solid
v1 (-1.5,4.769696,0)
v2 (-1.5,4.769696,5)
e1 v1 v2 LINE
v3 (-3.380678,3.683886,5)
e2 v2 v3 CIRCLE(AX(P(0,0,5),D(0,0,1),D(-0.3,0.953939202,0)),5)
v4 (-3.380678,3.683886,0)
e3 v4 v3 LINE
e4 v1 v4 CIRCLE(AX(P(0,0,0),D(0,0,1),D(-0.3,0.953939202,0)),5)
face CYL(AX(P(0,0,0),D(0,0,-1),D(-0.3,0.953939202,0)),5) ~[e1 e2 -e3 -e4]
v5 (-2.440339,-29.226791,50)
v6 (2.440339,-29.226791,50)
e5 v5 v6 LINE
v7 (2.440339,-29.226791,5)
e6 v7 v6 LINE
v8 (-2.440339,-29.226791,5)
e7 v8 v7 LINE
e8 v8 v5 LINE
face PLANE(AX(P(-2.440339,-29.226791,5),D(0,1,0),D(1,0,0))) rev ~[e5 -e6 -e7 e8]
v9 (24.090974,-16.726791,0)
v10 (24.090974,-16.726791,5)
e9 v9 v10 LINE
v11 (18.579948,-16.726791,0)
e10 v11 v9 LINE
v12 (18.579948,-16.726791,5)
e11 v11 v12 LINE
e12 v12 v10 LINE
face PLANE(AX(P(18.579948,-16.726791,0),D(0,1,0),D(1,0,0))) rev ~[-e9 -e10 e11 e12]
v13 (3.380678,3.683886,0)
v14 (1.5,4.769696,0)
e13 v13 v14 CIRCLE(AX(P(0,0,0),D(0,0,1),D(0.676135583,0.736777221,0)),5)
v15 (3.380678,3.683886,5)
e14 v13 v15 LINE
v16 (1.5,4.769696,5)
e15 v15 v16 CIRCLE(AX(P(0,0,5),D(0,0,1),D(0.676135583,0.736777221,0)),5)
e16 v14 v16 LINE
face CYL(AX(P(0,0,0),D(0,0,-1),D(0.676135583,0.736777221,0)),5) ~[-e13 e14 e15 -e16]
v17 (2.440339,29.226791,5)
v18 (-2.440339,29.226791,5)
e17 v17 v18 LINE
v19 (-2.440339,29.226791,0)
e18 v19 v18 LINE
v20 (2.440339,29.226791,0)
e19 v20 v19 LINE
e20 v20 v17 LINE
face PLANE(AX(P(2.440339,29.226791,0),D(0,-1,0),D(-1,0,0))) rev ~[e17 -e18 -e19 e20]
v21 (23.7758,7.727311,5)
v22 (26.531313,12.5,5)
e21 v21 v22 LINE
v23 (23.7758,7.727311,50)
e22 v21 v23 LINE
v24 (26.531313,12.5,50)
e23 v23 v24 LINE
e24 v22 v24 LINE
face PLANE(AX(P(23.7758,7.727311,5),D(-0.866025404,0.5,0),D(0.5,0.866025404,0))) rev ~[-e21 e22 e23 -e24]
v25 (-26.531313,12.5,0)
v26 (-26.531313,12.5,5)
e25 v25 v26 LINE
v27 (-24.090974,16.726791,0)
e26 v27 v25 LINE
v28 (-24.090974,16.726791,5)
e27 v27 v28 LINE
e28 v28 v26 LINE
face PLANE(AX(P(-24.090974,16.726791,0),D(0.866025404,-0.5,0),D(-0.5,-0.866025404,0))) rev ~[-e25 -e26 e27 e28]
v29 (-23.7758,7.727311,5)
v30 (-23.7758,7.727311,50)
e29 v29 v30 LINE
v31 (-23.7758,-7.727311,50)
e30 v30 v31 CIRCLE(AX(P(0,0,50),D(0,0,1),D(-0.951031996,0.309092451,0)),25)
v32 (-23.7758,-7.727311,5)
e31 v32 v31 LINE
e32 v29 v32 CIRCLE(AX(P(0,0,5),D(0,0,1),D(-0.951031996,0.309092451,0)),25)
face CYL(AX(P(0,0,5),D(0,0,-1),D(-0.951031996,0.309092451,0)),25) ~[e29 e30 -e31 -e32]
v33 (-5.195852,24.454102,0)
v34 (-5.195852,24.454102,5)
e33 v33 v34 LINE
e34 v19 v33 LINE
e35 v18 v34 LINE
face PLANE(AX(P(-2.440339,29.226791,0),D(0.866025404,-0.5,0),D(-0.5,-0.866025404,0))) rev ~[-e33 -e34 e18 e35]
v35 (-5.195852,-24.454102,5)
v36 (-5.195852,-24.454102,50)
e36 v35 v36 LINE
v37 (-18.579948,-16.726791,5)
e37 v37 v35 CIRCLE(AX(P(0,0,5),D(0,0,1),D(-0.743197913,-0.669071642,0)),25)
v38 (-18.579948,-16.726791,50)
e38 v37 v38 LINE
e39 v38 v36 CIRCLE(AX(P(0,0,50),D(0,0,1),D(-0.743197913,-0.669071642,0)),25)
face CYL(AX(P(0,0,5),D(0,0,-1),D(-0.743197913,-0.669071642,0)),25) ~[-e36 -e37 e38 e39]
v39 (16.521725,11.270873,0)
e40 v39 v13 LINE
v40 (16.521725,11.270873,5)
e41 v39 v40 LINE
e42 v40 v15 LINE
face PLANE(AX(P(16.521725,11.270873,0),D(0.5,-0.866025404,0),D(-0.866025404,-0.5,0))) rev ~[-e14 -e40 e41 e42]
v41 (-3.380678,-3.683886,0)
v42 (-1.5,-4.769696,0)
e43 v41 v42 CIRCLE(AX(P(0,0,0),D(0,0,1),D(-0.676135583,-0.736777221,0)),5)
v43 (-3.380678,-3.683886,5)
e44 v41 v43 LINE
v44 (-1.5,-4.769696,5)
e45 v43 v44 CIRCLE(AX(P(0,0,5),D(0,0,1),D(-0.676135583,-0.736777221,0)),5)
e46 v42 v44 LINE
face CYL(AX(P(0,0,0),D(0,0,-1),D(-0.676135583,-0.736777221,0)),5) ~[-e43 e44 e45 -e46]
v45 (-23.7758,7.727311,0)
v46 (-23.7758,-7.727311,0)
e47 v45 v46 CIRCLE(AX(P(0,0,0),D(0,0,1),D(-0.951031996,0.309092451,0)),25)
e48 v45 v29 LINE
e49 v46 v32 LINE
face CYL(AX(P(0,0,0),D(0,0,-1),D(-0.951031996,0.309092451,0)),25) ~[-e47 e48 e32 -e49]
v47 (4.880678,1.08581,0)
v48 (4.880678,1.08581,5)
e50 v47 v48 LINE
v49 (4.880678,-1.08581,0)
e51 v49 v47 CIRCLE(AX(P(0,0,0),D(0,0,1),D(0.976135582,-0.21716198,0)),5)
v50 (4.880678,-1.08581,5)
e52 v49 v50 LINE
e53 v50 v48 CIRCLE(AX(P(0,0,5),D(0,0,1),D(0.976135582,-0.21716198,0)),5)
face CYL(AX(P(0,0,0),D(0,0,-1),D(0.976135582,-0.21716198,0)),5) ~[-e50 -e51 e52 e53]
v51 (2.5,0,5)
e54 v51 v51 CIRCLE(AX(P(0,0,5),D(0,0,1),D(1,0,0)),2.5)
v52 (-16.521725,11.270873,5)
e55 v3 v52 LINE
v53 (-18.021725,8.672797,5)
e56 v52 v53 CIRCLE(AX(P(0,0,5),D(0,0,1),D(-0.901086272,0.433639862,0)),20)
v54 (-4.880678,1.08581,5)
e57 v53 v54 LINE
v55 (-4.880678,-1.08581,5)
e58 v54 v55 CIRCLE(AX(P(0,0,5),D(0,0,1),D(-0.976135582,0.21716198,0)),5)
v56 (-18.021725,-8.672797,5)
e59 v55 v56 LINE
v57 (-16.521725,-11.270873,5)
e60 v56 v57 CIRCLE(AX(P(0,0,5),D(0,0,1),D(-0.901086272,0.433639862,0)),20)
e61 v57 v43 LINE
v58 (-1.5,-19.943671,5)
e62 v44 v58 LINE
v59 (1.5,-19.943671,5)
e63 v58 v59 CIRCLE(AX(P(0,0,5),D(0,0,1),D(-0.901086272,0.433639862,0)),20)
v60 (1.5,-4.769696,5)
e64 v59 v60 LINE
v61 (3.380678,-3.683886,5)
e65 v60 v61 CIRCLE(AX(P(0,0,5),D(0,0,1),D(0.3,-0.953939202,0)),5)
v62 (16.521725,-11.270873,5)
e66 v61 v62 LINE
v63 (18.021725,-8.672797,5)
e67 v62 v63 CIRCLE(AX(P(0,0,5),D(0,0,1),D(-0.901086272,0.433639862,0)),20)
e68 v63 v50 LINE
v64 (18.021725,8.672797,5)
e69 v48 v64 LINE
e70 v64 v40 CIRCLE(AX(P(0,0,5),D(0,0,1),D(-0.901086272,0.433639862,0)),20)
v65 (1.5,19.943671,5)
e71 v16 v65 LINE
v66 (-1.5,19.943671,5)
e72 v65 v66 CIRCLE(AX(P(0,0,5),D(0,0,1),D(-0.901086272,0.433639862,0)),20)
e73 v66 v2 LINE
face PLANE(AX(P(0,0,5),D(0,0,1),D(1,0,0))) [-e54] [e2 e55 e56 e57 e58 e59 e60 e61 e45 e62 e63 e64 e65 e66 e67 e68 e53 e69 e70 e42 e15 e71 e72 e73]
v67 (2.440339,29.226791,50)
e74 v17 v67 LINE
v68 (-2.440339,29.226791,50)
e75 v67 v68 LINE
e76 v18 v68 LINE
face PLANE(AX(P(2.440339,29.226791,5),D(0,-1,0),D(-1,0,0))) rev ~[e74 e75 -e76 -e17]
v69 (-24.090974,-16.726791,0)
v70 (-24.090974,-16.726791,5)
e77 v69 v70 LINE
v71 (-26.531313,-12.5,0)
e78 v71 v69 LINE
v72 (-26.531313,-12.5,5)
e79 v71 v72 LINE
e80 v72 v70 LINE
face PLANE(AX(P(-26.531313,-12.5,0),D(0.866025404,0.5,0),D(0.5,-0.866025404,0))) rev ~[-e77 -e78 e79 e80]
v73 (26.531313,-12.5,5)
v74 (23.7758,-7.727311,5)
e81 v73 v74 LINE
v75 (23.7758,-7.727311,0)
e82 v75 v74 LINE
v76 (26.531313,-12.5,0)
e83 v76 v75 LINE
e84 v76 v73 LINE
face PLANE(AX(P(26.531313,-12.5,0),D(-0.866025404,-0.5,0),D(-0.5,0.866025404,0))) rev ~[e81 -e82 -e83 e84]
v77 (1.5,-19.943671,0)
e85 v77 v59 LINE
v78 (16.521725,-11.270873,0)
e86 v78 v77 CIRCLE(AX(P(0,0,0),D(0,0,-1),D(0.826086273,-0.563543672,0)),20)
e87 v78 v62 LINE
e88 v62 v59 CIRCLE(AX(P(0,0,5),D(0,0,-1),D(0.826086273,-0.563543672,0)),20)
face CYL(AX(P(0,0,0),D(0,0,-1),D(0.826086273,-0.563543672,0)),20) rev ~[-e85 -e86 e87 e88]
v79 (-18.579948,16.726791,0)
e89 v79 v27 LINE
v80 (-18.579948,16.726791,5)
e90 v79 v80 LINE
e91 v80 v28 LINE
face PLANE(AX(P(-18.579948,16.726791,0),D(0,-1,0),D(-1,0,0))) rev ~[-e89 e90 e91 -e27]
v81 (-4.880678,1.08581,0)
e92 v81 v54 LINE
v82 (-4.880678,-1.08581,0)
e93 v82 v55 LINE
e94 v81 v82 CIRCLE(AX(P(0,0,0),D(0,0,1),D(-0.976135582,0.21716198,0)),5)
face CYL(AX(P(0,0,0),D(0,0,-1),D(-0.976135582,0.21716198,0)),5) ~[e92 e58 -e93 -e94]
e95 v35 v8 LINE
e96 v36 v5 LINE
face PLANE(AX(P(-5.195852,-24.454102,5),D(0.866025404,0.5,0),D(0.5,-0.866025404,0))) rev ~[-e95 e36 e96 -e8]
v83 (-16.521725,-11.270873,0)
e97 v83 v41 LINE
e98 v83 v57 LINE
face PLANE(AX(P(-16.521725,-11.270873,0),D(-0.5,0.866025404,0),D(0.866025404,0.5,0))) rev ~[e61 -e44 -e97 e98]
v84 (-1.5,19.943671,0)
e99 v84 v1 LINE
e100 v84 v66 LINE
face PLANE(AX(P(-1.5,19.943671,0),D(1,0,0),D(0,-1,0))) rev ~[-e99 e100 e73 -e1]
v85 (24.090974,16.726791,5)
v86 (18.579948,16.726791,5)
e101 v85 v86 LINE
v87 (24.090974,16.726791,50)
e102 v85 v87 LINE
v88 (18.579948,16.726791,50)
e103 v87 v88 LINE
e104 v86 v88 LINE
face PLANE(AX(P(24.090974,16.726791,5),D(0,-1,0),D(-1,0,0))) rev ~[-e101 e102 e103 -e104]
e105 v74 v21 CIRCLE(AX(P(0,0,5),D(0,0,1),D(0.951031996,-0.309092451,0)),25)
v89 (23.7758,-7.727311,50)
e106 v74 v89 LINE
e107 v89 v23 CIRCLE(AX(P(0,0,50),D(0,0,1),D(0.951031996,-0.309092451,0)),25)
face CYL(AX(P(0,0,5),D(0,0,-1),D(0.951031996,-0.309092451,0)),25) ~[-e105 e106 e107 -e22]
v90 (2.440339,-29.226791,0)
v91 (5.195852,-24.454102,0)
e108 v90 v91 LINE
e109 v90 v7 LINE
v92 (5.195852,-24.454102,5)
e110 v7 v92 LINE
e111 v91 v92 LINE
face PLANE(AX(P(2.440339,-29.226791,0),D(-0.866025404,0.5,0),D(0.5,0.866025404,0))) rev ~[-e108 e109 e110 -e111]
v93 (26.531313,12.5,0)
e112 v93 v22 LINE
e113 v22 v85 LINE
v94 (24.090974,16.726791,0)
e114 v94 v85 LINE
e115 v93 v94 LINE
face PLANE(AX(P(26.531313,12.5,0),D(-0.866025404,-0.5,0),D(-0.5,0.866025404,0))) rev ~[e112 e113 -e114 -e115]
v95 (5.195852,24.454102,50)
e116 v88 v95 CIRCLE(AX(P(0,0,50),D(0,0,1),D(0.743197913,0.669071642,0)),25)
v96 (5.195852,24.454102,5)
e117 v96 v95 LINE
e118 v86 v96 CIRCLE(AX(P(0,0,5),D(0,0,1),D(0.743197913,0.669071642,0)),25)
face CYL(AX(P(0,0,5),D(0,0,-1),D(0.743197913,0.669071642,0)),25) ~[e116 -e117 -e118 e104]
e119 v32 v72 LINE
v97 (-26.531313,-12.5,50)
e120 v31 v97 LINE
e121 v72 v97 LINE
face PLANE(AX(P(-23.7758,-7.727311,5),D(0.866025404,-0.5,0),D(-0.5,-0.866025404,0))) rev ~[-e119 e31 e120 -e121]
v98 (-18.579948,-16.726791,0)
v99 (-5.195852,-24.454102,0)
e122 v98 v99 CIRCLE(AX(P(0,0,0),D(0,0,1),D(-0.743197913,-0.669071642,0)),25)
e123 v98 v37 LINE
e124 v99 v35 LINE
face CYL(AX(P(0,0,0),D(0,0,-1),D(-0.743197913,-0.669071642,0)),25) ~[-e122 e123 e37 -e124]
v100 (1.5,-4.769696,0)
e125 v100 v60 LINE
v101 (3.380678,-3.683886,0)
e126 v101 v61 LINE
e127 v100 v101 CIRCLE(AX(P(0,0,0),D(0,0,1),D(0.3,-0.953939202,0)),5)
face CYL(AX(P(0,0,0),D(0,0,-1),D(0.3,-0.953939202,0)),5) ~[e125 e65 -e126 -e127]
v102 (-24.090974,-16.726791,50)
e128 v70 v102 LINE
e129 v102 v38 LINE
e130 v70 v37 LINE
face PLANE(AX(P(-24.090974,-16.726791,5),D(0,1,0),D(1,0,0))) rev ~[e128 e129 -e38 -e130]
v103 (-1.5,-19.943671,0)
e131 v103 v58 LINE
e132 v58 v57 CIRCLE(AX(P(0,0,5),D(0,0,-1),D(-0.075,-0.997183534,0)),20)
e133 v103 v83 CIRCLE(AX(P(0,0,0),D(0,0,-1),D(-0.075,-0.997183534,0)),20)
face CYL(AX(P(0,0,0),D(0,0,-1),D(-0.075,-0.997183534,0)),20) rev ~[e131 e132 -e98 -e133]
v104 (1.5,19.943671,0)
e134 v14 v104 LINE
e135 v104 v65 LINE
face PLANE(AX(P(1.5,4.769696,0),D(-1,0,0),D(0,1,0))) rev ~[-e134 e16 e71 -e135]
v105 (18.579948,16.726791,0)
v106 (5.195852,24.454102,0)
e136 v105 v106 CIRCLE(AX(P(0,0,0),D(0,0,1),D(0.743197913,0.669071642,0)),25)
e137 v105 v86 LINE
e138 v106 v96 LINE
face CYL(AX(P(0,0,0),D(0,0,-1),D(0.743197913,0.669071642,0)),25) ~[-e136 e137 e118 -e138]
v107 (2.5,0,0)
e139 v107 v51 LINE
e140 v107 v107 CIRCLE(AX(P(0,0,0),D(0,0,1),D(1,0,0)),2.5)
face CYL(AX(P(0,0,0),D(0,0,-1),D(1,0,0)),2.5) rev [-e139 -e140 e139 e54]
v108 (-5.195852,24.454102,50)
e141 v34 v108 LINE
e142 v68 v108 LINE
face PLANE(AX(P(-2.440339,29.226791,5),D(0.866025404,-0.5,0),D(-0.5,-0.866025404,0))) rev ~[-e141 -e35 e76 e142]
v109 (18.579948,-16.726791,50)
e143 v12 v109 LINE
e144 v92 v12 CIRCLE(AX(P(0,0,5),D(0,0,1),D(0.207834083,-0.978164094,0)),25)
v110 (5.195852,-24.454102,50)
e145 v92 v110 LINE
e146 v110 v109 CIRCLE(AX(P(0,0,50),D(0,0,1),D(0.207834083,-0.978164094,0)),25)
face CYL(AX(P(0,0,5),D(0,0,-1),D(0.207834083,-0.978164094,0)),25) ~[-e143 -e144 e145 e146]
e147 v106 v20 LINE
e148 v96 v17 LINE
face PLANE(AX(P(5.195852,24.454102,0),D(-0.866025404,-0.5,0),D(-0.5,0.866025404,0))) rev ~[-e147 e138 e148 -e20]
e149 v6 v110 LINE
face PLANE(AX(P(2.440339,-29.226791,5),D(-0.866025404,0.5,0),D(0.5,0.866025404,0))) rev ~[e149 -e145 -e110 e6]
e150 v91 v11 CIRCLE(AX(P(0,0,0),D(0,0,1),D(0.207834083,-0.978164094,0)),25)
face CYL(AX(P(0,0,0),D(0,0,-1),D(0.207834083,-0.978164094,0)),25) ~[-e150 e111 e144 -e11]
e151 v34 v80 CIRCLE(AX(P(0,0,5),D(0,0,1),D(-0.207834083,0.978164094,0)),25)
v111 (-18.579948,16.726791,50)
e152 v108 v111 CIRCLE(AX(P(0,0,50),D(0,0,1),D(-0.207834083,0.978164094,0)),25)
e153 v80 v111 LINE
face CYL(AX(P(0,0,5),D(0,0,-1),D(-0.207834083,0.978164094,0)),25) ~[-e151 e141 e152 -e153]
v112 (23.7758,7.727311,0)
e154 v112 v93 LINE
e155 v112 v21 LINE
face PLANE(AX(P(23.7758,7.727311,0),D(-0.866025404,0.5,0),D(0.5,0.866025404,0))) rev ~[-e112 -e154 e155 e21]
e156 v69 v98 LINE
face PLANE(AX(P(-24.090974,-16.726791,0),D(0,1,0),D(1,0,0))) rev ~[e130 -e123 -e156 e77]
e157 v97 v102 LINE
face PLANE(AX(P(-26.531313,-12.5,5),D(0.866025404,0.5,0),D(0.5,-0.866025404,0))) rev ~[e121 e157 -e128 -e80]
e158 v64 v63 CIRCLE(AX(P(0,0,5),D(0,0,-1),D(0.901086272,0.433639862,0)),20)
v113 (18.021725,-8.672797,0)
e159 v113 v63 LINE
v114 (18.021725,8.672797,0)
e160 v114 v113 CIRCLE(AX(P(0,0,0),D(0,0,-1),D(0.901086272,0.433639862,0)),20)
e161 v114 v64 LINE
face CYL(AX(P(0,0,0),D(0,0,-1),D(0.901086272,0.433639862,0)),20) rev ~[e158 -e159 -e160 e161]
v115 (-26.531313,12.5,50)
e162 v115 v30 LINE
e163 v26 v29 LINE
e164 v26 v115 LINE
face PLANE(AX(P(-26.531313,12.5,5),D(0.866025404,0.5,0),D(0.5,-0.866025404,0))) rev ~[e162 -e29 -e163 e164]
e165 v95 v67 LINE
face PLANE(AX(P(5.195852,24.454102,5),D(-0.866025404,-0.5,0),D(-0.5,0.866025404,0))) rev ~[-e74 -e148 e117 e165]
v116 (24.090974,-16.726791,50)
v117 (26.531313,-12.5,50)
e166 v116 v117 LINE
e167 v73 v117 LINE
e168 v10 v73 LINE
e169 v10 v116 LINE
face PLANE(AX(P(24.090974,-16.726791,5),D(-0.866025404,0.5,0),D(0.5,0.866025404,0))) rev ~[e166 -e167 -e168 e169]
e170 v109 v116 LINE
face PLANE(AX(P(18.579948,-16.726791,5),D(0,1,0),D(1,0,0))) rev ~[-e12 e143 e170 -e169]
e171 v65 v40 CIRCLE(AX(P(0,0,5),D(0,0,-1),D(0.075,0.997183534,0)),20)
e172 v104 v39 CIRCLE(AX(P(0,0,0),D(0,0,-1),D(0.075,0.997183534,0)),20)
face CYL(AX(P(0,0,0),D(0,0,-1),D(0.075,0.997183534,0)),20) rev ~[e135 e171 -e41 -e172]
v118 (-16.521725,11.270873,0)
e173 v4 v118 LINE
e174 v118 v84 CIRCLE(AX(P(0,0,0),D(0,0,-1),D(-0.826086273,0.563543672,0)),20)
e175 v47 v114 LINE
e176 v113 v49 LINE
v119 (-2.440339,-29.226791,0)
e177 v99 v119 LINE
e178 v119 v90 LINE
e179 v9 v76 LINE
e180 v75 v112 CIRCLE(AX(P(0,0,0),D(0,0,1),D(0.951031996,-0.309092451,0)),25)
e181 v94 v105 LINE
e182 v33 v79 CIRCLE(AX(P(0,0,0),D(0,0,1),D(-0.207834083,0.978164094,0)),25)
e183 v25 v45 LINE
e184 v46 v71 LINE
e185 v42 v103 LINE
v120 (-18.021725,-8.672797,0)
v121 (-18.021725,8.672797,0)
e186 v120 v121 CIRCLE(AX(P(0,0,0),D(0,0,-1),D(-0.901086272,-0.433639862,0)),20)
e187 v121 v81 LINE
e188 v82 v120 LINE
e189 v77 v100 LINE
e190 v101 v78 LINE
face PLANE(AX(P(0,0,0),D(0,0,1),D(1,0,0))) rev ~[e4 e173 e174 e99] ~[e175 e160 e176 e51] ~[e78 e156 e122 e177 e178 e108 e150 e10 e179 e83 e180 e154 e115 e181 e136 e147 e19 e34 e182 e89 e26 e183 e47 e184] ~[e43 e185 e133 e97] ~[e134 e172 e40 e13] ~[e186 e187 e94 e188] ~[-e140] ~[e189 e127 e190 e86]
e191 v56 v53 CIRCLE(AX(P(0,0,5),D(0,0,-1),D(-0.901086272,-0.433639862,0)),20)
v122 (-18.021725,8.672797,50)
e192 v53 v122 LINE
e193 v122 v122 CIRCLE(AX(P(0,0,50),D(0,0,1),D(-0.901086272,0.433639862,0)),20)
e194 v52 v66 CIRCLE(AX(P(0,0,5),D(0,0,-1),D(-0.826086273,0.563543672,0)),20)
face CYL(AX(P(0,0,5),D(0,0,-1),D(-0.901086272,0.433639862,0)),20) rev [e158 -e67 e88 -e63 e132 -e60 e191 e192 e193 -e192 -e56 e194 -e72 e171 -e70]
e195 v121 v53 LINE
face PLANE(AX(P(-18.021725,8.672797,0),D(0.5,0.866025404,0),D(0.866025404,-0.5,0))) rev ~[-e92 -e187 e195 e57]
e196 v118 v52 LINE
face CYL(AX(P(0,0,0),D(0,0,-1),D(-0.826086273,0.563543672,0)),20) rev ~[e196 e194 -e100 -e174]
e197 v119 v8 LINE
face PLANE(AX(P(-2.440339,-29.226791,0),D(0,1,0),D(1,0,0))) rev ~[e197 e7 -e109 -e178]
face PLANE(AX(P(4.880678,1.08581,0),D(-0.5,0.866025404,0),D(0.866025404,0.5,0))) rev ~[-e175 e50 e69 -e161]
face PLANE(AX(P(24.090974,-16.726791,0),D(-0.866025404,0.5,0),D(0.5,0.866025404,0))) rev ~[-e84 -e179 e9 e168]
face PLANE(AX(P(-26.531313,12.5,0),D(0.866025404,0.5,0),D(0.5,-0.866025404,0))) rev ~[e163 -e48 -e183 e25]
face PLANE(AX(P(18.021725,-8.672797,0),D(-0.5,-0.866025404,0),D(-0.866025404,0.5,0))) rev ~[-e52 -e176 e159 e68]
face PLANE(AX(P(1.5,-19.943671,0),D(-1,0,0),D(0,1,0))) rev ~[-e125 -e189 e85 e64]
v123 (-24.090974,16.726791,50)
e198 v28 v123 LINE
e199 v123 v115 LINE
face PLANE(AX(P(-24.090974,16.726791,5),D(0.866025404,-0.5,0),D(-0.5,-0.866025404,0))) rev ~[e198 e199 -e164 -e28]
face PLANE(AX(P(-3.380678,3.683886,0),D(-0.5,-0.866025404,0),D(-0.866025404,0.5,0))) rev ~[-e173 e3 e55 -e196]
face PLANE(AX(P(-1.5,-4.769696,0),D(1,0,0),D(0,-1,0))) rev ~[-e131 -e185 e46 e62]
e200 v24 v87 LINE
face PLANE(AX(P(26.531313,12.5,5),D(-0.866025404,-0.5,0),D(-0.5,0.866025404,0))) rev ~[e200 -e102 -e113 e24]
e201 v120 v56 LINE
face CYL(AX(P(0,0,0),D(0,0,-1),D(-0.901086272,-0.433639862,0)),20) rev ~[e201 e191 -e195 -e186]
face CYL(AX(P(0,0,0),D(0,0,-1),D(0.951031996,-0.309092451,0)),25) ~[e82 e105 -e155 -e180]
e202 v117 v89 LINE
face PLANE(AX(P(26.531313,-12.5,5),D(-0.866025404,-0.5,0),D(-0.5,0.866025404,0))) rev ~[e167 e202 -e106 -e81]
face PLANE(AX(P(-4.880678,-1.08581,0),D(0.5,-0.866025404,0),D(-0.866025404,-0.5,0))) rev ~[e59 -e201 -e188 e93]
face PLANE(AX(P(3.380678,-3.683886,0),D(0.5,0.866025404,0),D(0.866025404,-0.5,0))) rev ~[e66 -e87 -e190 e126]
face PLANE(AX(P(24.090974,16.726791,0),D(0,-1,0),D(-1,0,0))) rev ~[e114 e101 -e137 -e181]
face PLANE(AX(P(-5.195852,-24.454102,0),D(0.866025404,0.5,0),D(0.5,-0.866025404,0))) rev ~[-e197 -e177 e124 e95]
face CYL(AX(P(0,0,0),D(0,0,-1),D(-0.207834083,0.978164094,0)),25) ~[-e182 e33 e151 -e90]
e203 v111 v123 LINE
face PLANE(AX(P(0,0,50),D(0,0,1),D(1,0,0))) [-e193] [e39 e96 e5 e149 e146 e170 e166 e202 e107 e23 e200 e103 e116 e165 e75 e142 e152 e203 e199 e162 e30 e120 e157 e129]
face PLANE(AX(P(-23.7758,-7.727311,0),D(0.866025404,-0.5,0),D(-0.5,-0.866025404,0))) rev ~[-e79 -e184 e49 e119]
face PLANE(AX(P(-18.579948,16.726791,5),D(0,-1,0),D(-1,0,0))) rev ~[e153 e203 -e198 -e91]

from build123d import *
from build123d.topology import SkipClean

# Parameters (mm, degrees)
SKETCH2_R           = 2.5
BOSS_EXTRUDE2_DEPTH = 5
SKETCH3_R           = 20
BOSS_EXTRUDE3_DEPTH = 45


with BuildPart() as part:
    # Sketch2 → Boss-Extrude2 (new body)
    with BuildSketch(Plane.XY):
        with BuildLine():
            ThreePointArc((-5.195852071, 24.45410234), (-12.5, 21.650635095), (-18.579947817, 16.726791058))
            Line((-18.579947817, 16.726791058), (-24.09097405, 16.726791058))
            Line((-24.09097405, 16.726791058), (-26.531313005, 12.5))
            Line((-26.531313005, 12.5), (-23.775799889, 7.727311282))
            ThreePointArc((-23.775799889, 7.727311282), (-25, 0), (-23.775799889, -7.727311282))
            Line((-23.775799889, -7.727311282), (-26.531313005, -12.5))
            Line((-26.531313005, -12.5), (-24.09097405, -16.726791058))
            Line((-24.09097405, -16.726791058), (-18.579947817, -16.726791058))
            ThreePointArc((-18.579947817, -16.726791058), (-12.5, -21.650635095), (-5.195852071, -24.45410234))
            Line((-5.195852071, -24.45410234), (-2.440338955, -29.226791058))
            Line((-2.440338955, -29.226791058), (2.440338955, -29.226791058))
            Line((2.440338955, -29.226791058), (5.195852071, -24.45410234))
            ThreePointArc((5.195852071, -24.45410234), (12.5, -21.650635095), (18.579947817, -16.726791058))
            Line((18.579947817, -16.726791058), (24.09097405, -16.726791058))
            Line((24.09097405, -16.726791058), (26.531313005, -12.5))
            Line((26.531313005, -12.5), (23.775799889, -7.727311282))
            ThreePointArc((23.775799889, -7.727311282), (25, 0), (23.775799889, 7.727311282))
            Line((23.775799889, 7.727311282), (26.531313005, 12.5))
            Line((26.531313005, 12.5), (24.09097405, 16.726791058))
            Line((24.09097405, 16.726791058), (18.579947817, 16.726791058))
            ThreePointArc((18.579947817, 16.726791058), (12.5, 21.650635095), (5.195852071, 24.45410234))
            Line((5.195852071, 24.45410234), (2.440338955, 29.226791058))
            Line((2.440338955, 29.226791058), (-2.440338955, 29.226791058))
            Line((-2.440338955, 29.226791058), (-5.195852071, 24.45410234))
        make_face()
        with BuildLine():
            Line((-16.521725449, -11.270873443), (-3.38067791, -3.683886109))
            ThreePointArc((-3.38067791, -3.683886109), (-2.5, -4.330127019), (-1.5, -4.769696007))
            Line((-1.5, -4.769696007), (-1.5, -19.943670675))
            ThreePointArc((-1.5, -19.943670675), (-10, -17.320508076), (-16.521725449, -11.270873443))
        make_face(mode=Mode.SUBTRACT)
        with BuildLine():
            Line((-18.021725449, 8.672797232), (-4.88067791, 1.085809898))
            ThreePointArc((-4.88067791, 1.085809898), (-5, 0), (-4.88067791, -1.085809898))
            Line((-4.88067791, -1.085809898), (-18.021725449, -8.672797232))
            ThreePointArc((-18.021725449, -8.672797232), (-20, 0), (-18.021725449, 8.672797232))
        make_face(mode=Mode.SUBTRACT)
        with BuildLine():
            Line((1.5, -19.943670675), (1.5, -4.769696007))
            ThreePointArc((1.5, -4.769696007), (2.5, -4.330127019), (3.38067791, -3.683886109))
            Line((3.38067791, -3.683886109), (16.521725449, -11.270873443))
            ThreePointArc((16.521725449, -11.270873443), (10, -17.320508076), (1.5, -19.943670675))
        make_face(mode=Mode.SUBTRACT)
        with BuildLine():
            Line((-1.5, 19.943670675), (-1.5, 4.769696007))
            ThreePointArc((-1.5, 4.769696007), (-2.5, 4.330127019), (-3.38067791, 3.683886109))
            Line((-3.38067791, 3.683886109), (-16.521725449, 11.270873443))
            ThreePointArc((-16.521725449, 11.270873443), (-10, 17.320508076), (-1.5, 19.943670675))
        make_face(mode=Mode.SUBTRACT)
        Circle(SKETCH2_R, mode=Mode.SUBTRACT)
        with BuildLine():
            Line((18.021725449, -8.672797232), (4.88067791, -1.085809898))
            ThreePointArc((4.88067791, -1.085809898), (5, 0), (4.88067791, 1.085809898))
            Line((4.88067791, 1.085809898), (18.021725449, 8.672797232))
            ThreePointArc((18.021725449, 8.672797232), (20, 0), (18.021725449, -8.672797232))
        make_face(mode=Mode.SUBTRACT)
        with BuildLine():
            Line((16.521725449, 11.270873443), (3.38067791, 3.683886109))
            ThreePointArc((3.38067791, 3.683886109), (2.5, 4.330127019), (1.5, 4.769696007))
            Line((1.5, 4.769696007), (1.5, 19.943670675))
            ThreePointArc((1.5, 19.943670675), (10, 17.320508076), (16.521725449, 11.270873443))
        make_face(mode=Mode.SUBTRACT)
    extrude(amount=BOSS_EXTRUDE2_DEPTH)

    # Sketch3 → Boss-Extrude3 (add)
    with SkipClean():  # the faces are left unmerged after this step: merging them gives an invalid solid
        with BuildSketch(Plane.XY.offset(5)):
            with BuildLine():
                Line((-2.440338955, 29.226791058), (-5.195852071, 24.45410234))
                ThreePointArc((-5.195852071, 24.45410234), (-12.5, 21.650635095), (-18.579947817, 16.726791058))
                Line((-18.579947817, 16.726791058), (-24.09097405, 16.726791058))
                Line((-24.09097405, 16.726791058), (-26.531313005, 12.5))
                Line((-26.531313005, 12.5), (-23.775799889, 7.727311282))
                ThreePointArc((-23.775799889, 7.727311282), (-25, 0), (-23.775799889, -7.727311282))
                Line((-23.775799889, -7.727311282), (-26.531313005, -12.5))
                Line((-26.531313005, -12.5), (-24.09097405, -16.726791058))
                Line((-24.09097405, -16.726791058), (-18.579947817, -16.726791058))
                ThreePointArc((-18.579947817, -16.726791058), (-12.5, -21.650635095), (-5.195852071, -24.45410234))
                Line((-5.195852071, -24.45410234), (-2.440338955, -29.226791058))
                Line((-2.440338955, -29.226791058), (2.440338955, -29.226791058))
                Line((2.440338955, -29.226791058), (5.195852071, -24.45410234))
                ThreePointArc((5.195852071, -24.45410234), (12.5, -21.650635095), (18.579947817, -16.726791058))
                Line((18.579947817, -16.726791058), (24.09097405, -16.726791058))
                Line((24.09097405, -16.726791058), (26.531313005, -12.5))
                Line((26.531313005, -12.5), (23.775799889, -7.727311282))
                ThreePointArc((23.775799889, -7.727311282), (25, 0), (23.775799889, 7.727311282))
                Line((23.775799889, 7.727311282), (26.531313005, 12.5))
                Line((26.531313005, 12.5), (24.09097405, 16.726791058))
                Line((24.09097405, 16.726791058), (18.579947817, 16.726791058))
                ThreePointArc((18.579947817, 16.726791058), (12.5, 21.650635095), (5.195852071, 24.45410234))
                Line((5.195852071, 24.45410234), (2.440338955, 29.226791058))
                Line((2.440338955, 29.226791058), (-2.440338955, 29.226791058))
            make_face()
            with Locations(Location((0, 0, 0), (0, 0, 154.301222305))):
                Circle(SKETCH3_R, mode=Mode.SUBTRACT)
        extrude(amount=BOSS_EXTRUDE3_DEPTH)


solid = part.part
